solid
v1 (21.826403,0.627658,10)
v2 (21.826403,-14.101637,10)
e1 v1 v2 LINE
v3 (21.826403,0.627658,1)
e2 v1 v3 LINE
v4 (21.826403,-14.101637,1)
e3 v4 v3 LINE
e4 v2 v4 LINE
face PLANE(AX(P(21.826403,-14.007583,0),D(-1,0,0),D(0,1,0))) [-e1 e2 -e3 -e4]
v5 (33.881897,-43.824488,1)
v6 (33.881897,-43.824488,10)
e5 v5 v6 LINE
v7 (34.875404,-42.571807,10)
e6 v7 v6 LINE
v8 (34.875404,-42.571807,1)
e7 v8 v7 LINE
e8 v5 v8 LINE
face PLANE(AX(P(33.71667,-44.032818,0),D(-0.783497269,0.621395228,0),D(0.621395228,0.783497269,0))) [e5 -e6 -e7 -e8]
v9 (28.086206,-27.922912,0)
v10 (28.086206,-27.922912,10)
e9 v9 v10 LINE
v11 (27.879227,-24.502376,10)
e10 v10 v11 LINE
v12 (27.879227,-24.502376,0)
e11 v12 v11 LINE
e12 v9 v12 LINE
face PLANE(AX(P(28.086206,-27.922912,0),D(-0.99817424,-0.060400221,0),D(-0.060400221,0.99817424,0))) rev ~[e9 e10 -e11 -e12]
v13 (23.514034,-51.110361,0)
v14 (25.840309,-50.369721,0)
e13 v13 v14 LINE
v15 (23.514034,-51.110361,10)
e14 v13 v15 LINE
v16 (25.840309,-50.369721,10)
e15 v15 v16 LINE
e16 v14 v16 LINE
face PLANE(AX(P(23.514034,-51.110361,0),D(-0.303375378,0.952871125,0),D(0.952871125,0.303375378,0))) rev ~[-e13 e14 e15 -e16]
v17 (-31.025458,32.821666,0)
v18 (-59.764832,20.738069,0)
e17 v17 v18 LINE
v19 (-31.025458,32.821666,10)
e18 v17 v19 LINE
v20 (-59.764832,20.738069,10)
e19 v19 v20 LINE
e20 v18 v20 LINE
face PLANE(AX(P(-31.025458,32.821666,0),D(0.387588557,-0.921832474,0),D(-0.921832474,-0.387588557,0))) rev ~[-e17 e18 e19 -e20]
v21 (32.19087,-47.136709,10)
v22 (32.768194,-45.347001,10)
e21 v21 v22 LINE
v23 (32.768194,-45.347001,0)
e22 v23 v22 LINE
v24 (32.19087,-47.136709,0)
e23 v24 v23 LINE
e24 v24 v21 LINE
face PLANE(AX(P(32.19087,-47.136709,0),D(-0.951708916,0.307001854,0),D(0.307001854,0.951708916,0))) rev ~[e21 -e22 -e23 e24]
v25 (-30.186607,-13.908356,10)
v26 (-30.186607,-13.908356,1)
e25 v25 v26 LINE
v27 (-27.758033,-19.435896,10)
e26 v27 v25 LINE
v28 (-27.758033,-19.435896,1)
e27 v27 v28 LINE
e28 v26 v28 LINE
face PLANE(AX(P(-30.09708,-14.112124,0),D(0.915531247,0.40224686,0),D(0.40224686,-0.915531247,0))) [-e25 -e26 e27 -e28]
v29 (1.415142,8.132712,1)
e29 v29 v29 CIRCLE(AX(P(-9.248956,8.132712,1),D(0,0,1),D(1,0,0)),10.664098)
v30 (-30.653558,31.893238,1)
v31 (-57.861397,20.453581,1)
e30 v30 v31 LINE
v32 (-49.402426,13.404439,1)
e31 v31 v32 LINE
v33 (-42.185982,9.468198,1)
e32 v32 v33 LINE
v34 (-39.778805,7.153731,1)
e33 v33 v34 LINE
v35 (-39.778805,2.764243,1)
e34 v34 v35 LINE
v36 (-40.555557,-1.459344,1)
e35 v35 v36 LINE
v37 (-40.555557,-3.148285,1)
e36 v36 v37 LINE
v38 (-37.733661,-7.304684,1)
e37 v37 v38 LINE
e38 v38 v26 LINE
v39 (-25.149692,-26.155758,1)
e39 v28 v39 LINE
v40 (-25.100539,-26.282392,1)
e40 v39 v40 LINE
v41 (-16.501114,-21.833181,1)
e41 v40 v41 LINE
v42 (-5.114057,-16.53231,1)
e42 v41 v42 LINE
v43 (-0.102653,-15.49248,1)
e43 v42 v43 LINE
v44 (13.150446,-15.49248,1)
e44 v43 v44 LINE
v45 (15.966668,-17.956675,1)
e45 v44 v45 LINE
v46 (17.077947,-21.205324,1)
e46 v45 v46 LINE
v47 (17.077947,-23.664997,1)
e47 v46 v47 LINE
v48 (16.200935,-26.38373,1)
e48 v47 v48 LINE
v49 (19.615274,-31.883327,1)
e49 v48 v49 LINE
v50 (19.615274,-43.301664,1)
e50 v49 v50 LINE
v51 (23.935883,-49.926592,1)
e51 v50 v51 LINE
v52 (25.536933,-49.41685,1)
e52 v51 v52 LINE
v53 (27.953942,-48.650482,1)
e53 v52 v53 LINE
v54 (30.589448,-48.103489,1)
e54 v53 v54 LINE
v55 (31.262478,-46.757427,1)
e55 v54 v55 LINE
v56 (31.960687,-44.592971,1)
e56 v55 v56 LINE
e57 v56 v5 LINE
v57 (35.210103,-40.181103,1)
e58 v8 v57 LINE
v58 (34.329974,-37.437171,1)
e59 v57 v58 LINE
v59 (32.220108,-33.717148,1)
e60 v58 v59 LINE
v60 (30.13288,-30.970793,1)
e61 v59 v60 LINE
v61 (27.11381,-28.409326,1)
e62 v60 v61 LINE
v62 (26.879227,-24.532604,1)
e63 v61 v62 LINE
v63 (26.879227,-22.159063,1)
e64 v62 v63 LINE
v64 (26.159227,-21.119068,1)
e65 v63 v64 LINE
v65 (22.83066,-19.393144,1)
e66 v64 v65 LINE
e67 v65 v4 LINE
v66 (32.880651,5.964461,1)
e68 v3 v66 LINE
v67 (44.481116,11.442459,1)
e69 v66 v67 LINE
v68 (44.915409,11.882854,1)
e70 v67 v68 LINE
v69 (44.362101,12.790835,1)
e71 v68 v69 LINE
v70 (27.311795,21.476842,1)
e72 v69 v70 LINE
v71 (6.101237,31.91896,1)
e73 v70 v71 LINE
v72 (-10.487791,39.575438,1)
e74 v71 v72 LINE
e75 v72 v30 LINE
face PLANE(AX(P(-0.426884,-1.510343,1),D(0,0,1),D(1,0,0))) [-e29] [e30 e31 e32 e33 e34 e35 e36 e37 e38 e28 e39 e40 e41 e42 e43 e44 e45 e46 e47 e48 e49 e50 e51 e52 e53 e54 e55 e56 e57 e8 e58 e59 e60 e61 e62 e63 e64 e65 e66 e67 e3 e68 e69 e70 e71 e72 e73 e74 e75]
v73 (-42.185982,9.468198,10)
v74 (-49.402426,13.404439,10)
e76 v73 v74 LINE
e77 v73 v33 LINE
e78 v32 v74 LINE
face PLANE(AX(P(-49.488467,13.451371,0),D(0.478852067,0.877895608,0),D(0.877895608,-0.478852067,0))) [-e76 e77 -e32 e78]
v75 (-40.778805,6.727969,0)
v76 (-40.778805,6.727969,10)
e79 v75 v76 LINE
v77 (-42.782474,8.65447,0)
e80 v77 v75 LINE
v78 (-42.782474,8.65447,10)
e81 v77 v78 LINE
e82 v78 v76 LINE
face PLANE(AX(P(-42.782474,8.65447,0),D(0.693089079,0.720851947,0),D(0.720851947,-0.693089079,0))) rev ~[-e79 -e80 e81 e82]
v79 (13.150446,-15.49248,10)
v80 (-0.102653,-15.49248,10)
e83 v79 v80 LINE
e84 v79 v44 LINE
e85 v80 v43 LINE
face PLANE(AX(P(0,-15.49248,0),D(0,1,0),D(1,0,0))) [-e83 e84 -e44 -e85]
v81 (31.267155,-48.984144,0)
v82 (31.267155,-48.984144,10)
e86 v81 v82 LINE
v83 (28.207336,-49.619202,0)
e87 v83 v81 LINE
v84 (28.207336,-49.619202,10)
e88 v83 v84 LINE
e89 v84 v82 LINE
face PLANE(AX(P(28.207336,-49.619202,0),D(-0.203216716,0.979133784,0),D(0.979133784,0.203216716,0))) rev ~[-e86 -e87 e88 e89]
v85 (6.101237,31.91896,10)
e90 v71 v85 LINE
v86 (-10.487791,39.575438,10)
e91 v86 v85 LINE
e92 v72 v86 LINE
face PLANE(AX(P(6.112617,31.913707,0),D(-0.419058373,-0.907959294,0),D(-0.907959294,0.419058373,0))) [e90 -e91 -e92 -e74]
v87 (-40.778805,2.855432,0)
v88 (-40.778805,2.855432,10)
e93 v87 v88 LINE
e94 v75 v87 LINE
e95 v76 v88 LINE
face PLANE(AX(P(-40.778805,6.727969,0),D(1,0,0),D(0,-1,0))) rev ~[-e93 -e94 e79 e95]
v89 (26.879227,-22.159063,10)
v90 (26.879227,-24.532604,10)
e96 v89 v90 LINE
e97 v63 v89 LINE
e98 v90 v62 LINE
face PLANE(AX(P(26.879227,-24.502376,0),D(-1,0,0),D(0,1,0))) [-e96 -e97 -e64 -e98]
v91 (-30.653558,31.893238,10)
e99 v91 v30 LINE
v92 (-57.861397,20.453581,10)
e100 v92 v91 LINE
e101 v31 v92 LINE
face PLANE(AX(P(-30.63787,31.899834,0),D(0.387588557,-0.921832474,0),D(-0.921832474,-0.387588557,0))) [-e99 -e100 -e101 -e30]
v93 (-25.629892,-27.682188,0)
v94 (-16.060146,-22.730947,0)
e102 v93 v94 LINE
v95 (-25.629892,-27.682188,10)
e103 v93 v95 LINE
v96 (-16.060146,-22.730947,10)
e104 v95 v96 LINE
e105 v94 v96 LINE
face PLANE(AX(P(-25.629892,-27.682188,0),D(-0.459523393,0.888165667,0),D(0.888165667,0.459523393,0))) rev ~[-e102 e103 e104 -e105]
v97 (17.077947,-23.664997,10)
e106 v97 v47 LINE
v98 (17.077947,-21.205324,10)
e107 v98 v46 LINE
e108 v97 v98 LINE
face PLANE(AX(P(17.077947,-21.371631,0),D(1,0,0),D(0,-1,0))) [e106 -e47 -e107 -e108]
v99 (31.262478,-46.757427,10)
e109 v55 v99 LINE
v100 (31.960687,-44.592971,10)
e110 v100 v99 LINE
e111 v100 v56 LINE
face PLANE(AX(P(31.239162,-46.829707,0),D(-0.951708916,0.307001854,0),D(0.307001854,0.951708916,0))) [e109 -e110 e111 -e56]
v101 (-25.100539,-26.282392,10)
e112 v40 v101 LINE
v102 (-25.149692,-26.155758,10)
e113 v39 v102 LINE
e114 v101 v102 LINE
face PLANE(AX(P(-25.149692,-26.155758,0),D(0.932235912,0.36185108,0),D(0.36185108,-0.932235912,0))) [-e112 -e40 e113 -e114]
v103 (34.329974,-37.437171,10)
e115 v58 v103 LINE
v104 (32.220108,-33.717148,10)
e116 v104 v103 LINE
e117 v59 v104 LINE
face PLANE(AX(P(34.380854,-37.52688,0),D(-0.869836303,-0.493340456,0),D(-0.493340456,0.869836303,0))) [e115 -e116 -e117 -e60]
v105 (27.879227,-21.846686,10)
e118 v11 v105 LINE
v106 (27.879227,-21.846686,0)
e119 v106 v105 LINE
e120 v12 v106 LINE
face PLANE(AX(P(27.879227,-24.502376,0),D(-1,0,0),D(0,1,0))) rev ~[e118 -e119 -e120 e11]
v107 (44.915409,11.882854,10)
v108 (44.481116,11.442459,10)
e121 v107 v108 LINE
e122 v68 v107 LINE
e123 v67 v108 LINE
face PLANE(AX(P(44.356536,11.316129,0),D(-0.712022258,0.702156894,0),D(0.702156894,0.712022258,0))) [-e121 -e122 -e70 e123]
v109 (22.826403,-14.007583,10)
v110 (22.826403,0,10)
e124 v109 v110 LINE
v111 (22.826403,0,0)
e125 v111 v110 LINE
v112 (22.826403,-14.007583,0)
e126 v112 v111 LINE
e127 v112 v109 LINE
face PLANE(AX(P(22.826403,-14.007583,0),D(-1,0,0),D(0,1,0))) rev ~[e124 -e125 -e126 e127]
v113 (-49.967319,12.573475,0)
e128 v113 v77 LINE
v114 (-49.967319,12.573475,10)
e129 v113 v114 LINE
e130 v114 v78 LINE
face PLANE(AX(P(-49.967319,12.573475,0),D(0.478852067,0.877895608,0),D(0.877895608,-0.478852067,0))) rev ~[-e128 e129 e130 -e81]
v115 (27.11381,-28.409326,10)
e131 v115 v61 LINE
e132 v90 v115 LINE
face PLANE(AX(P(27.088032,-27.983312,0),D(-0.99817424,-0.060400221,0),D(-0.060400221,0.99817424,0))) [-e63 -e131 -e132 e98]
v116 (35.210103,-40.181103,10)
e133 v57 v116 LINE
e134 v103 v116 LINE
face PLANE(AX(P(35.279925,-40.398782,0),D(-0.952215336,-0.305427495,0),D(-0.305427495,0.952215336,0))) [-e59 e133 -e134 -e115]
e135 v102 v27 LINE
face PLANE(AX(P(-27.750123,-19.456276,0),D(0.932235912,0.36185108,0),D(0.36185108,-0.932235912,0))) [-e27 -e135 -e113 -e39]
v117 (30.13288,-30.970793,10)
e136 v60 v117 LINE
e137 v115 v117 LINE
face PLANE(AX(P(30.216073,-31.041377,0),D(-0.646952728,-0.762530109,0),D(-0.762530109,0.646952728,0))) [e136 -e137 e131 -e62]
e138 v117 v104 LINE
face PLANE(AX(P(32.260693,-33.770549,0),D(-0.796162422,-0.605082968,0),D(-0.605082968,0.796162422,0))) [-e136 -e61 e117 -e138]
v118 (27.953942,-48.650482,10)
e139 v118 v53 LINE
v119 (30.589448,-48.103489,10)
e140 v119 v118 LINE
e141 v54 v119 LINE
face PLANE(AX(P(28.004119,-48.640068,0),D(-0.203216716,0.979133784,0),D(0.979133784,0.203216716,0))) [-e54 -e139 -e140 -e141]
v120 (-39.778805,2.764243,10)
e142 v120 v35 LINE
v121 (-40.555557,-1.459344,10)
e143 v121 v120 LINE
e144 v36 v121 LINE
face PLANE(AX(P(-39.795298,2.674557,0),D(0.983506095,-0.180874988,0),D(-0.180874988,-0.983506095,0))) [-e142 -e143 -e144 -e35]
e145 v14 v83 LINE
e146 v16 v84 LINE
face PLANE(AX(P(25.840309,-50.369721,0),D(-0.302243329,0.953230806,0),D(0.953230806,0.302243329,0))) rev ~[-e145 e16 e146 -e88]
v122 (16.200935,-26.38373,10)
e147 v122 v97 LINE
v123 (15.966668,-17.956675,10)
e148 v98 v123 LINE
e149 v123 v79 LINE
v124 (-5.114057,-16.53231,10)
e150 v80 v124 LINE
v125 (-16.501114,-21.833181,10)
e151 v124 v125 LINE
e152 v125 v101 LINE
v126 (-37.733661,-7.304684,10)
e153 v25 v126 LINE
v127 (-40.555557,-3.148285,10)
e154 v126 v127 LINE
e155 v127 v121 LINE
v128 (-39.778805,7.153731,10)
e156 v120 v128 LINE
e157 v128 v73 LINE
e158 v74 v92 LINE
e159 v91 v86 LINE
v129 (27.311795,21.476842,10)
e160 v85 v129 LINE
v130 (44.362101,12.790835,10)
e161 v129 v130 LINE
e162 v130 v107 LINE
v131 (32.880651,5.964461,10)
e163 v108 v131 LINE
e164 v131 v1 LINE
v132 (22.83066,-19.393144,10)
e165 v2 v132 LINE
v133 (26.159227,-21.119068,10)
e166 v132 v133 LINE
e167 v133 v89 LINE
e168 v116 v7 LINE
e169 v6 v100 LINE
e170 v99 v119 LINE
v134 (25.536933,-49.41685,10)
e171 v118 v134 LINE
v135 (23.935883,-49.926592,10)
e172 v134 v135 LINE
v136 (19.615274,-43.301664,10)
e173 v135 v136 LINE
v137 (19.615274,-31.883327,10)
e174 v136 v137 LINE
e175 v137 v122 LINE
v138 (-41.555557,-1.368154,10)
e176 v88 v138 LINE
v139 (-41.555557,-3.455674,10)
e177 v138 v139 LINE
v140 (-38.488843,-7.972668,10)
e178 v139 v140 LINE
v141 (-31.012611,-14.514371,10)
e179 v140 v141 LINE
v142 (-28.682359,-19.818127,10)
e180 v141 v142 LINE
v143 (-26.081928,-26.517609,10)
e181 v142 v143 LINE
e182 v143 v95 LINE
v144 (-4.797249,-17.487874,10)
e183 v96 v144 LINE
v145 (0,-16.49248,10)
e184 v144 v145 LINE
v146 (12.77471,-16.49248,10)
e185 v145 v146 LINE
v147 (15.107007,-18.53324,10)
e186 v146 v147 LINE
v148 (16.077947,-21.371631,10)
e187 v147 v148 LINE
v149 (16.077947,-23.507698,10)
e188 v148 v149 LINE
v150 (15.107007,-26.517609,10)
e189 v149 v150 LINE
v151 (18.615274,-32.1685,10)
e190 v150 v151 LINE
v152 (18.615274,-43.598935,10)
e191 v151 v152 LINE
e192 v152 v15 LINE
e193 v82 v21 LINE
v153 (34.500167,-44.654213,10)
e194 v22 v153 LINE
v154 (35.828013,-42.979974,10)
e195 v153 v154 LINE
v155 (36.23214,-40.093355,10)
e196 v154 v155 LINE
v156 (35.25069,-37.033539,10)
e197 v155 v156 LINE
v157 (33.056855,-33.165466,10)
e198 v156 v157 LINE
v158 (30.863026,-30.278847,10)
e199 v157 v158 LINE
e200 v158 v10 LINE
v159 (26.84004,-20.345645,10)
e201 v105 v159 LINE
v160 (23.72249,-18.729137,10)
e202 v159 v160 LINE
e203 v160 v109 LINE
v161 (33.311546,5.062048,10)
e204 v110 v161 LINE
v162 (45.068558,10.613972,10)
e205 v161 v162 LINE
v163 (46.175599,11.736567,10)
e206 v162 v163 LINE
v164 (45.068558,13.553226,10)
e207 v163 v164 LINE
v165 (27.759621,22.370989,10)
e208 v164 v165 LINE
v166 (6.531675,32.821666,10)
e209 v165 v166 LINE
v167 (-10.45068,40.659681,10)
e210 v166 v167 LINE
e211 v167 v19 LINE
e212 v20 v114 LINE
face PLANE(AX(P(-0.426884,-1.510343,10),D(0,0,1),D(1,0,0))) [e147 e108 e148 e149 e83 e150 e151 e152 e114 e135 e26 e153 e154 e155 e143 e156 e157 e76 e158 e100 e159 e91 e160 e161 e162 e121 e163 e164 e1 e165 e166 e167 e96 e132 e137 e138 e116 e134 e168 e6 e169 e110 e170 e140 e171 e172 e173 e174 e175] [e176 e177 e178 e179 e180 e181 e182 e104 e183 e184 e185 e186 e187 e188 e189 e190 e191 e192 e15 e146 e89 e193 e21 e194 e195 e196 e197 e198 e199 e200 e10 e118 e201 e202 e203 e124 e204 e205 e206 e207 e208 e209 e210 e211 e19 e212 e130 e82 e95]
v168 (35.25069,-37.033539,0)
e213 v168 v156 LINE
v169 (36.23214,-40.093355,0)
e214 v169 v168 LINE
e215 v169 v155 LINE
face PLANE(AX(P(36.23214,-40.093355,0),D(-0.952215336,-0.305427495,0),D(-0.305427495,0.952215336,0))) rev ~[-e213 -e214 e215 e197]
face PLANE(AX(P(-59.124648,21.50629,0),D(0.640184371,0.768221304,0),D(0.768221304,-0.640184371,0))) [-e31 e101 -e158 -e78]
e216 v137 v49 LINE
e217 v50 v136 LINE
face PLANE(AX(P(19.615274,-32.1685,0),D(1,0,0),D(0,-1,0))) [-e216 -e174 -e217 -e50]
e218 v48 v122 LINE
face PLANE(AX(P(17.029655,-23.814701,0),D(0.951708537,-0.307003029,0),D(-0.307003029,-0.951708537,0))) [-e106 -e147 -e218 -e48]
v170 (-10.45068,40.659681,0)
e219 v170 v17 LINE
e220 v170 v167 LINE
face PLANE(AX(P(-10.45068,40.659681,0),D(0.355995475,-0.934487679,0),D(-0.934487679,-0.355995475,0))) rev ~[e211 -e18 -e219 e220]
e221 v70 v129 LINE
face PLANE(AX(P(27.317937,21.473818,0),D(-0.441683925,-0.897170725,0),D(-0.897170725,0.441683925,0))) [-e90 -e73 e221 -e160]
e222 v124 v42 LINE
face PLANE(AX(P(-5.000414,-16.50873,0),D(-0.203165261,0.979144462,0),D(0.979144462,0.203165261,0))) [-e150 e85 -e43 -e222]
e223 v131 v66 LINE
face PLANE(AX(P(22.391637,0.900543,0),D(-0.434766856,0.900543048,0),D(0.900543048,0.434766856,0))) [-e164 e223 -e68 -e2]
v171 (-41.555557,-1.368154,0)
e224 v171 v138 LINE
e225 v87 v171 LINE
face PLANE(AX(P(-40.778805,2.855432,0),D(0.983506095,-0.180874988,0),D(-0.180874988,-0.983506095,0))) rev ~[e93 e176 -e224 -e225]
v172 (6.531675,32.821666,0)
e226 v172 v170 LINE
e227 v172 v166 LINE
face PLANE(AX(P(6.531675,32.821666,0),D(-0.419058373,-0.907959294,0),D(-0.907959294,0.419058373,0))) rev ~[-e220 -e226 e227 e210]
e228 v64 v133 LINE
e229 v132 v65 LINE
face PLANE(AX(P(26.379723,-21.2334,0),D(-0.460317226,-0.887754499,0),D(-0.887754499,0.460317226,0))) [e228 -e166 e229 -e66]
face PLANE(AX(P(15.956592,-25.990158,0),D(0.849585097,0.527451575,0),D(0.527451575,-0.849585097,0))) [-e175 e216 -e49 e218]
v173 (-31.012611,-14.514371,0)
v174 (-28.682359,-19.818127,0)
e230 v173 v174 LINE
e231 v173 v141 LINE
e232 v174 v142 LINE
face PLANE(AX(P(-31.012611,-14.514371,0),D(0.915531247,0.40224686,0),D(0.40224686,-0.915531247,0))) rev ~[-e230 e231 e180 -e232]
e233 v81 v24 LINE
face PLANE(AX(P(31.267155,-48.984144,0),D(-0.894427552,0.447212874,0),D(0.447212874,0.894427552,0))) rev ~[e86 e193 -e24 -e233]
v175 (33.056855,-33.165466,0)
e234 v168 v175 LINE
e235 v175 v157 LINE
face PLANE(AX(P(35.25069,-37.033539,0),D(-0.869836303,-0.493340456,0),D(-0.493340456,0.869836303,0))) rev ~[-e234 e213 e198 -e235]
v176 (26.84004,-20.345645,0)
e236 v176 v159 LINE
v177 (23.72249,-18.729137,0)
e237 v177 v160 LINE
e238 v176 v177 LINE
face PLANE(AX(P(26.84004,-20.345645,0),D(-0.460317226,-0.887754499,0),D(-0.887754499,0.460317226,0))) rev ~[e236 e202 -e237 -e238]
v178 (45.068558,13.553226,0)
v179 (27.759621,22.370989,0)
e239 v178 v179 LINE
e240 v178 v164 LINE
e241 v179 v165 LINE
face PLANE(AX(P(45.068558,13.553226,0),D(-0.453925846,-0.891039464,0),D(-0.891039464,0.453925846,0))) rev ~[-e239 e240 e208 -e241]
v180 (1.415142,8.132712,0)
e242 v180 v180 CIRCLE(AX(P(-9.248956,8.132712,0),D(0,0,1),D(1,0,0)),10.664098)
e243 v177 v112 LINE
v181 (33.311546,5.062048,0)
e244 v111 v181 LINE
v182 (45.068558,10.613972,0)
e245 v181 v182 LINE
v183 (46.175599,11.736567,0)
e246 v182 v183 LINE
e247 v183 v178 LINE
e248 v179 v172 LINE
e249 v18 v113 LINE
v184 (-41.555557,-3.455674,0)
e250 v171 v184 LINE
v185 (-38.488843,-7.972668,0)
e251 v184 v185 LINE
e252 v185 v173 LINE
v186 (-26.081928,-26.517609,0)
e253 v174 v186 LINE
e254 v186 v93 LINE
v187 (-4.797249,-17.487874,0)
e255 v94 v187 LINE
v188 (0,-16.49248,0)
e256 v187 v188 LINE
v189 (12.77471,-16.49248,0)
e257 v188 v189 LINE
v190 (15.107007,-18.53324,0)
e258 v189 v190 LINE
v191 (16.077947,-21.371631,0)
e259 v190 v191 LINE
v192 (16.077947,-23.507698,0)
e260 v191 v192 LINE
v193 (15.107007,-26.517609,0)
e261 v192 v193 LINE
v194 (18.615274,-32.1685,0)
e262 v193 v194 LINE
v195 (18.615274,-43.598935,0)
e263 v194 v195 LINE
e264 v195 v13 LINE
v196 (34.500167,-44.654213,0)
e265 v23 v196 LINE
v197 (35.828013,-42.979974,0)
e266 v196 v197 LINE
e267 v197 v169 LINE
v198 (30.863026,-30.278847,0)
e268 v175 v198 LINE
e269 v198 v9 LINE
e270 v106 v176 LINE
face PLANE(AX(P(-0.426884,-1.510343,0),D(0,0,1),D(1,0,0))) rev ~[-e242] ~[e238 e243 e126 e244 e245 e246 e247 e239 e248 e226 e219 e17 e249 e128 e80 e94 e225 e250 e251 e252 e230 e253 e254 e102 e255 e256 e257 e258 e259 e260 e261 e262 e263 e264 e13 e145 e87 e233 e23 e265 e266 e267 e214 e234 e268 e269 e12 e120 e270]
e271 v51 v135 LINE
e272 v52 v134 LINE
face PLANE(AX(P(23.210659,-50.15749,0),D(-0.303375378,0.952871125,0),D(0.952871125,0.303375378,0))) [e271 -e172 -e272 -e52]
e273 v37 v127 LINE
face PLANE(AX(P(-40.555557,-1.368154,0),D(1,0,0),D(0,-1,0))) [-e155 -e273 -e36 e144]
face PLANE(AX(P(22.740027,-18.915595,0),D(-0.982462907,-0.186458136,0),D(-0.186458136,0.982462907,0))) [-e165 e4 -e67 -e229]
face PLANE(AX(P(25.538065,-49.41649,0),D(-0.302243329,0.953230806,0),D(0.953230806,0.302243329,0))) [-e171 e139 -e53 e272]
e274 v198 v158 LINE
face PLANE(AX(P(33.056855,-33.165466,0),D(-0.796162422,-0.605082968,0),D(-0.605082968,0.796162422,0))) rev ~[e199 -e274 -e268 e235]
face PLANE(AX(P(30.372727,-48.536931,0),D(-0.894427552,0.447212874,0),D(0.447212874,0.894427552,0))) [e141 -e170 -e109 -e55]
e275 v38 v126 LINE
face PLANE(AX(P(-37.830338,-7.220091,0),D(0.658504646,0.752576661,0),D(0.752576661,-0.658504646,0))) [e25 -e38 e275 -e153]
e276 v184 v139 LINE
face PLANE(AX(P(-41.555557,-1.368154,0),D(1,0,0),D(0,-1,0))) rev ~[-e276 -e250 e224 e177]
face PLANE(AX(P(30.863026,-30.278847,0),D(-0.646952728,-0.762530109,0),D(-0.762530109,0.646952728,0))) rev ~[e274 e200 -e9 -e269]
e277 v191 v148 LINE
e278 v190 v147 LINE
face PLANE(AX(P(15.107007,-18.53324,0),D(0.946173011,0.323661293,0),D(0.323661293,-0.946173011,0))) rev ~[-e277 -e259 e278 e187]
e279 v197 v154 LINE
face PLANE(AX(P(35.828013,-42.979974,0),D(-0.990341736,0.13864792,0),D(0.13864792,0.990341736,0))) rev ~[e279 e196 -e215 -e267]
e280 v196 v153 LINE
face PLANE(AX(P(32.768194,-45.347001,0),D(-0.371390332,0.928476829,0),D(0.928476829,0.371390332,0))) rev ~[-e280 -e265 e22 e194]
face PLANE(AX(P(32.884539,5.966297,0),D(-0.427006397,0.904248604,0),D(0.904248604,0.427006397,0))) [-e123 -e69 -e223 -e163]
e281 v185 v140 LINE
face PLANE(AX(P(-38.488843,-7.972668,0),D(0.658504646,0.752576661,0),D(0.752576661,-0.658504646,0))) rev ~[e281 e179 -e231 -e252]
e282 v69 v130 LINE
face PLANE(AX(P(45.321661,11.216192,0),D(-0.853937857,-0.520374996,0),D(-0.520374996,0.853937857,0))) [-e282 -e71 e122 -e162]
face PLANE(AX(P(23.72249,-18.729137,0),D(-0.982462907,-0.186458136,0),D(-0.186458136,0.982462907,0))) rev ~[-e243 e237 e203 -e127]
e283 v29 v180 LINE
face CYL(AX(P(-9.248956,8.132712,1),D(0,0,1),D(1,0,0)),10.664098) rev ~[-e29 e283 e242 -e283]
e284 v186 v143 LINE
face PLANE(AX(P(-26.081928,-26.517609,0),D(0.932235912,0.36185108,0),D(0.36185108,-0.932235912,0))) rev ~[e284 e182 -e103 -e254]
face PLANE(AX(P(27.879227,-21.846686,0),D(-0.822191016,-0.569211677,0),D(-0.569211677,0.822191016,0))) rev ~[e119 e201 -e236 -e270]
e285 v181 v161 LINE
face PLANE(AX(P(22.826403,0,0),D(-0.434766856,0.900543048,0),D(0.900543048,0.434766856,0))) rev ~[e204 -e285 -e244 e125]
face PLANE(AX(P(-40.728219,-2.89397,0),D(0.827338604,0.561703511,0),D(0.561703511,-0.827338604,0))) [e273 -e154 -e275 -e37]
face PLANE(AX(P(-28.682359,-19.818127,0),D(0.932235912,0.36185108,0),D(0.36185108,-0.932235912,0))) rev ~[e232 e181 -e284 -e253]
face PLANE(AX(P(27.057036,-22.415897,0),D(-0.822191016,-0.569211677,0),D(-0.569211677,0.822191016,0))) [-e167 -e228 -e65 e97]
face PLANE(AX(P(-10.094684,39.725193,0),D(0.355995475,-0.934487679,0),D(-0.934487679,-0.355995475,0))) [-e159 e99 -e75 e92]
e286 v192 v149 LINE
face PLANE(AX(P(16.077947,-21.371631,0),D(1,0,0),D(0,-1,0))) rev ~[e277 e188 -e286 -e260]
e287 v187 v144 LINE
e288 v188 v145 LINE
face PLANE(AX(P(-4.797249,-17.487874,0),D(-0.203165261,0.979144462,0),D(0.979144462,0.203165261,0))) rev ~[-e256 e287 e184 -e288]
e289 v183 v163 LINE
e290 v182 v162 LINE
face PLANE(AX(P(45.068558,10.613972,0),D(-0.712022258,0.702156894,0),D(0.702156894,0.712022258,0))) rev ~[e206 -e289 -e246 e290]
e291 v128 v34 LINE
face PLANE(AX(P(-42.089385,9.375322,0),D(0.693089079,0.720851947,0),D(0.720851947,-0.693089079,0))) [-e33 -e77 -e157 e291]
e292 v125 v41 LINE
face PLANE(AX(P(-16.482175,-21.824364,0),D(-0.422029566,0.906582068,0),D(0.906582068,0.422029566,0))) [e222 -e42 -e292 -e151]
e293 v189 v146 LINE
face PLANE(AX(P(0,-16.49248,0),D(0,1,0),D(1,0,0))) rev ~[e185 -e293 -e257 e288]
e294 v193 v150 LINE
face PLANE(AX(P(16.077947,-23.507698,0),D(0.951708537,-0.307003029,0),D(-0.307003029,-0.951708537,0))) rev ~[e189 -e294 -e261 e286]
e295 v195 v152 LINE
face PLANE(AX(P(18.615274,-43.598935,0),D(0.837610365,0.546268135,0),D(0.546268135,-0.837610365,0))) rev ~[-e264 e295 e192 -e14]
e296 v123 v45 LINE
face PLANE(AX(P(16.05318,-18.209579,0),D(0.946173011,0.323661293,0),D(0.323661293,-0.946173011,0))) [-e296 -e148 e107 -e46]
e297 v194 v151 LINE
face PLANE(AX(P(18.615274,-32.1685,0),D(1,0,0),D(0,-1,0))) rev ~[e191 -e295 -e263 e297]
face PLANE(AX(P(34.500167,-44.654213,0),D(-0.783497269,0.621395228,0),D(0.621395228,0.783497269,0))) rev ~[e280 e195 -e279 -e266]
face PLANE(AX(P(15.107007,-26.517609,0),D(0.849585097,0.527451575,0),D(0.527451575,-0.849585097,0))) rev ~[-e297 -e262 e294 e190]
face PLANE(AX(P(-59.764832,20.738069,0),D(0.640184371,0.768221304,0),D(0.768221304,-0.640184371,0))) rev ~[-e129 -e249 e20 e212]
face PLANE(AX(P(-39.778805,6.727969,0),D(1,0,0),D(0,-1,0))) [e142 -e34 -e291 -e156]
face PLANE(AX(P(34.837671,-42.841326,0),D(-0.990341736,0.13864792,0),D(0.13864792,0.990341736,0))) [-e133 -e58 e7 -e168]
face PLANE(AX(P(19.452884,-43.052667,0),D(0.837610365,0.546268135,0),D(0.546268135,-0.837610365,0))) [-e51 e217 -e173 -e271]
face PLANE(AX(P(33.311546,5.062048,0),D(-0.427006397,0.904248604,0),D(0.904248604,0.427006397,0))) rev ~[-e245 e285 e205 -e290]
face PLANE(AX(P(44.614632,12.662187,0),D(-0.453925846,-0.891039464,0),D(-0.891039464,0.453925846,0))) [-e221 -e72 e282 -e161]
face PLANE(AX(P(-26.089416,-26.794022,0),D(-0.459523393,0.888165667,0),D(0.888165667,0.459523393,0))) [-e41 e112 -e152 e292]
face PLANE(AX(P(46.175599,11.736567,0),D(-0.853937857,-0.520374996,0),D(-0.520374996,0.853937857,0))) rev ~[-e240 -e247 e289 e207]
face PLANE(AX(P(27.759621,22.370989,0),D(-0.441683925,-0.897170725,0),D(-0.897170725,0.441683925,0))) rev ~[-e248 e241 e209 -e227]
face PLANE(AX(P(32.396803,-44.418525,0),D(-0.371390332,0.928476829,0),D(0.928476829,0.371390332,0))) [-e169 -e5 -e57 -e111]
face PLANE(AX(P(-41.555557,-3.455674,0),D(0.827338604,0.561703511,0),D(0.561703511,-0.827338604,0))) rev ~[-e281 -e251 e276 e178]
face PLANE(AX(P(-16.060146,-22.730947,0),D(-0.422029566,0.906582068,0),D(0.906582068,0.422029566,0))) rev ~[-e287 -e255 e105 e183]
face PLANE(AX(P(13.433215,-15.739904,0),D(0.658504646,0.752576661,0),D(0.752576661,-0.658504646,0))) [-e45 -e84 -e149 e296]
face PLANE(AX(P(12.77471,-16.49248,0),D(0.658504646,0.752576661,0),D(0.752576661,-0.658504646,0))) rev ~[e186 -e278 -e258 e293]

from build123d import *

# Parameters (mm, degrees)
F1_DEPTH = 10
F2_T     = -1
F3_R     = 10.6640979673
F4_DEPTH = 25


with BuildPart() as f1:
    # F0 (on Top) → F1 (new body)
    with BuildSketch(Plane.XY):
        Polygon((-31.0254581273, 32.8216664493), (-59.7648322582, 20.7380689681), (-49.9673187733, 12.5734750181), (-42.7824743092, 8.6544696242), (-40.7788045704, 6.7279691546), (-40.7788045704, 2.8554322198), (-41.5555574, -1.3681541895), (-41.5555574, -3.4556735773), (-38.4888425469, -7.9726679251), (-31.0126114637, -14.5143707892), (-28.6823585629, -19.8181271553), (-26.0819279657, -26.5176091343), (-25.6298921539, -27.6821877156), (-16.0601455718, -22.7309465408), (-4.7972491011, -17.4878742546), (0, -16.4924804121), (12.7747104677, -16.4924804121), (15.1070067659, -18.5332398809), (16.0779468715, -21.3716309518), (16.0779468715, -23.5076975077), (15.1070067659, -26.5176091343), (18.6152737588, -32.1685001254), (18.6152737588, -43.598935008), (23.5140342265, -51.1103607714), (25.8403085172, -50.369720906), (28.2073356211, -49.6192015707), (31.2671549618, -48.984143883), (32.1908704937, -47.136709094), (32.7681936324, -45.3470014036), (34.5001667738, -44.6542128921), (35.8280129731, -42.9799742997), (36.2321399152, -40.0933548808), (35.2506898344, -37.0335392654), (33.0568552017, -33.1654660404), (30.863026157, -30.2788466215), (28.0862059444, -27.9229115695), (27.8792269528, -24.5023760945), (27.8792269528, -21.8466855586), (26.8400404602, -20.3456450254), (23.7224902958, -18.7291372567), (22.8264033794, -14.0075832605), (22.8264033794, 0), (33.3115458488, 5.0620483235), (45.0685583055, 10.6139723212), (46.1755990982, 11.7365671322), (45.0685583055, 13.5532263666), (27.7596209198, 22.3709885031), (6.5316753462, 32.8216664493), (-10.4506798089, 40.6596809626), align=None)
    extrude(amount=F1_DEPTH)

    # F2
    f2_openings = [f1.faces().sort_by_distance(p)[0] for p in [
        (-4.783125, 4.353197, 10),
    ]]
    offset(amount=F2_T, openings=f2_openings, kind=Kind.INTERSECTION)

    # F3 (on face) → F4 (cut)
    with BuildSketch(Plane.XY.offset(1)):
        with Locations((-9.2489561066, 8.1327119842)):
            Circle(F3_R)
    extrude(amount=-F4_DEPTH, mode=Mode.SUBTRACT)


solid = f1.part
